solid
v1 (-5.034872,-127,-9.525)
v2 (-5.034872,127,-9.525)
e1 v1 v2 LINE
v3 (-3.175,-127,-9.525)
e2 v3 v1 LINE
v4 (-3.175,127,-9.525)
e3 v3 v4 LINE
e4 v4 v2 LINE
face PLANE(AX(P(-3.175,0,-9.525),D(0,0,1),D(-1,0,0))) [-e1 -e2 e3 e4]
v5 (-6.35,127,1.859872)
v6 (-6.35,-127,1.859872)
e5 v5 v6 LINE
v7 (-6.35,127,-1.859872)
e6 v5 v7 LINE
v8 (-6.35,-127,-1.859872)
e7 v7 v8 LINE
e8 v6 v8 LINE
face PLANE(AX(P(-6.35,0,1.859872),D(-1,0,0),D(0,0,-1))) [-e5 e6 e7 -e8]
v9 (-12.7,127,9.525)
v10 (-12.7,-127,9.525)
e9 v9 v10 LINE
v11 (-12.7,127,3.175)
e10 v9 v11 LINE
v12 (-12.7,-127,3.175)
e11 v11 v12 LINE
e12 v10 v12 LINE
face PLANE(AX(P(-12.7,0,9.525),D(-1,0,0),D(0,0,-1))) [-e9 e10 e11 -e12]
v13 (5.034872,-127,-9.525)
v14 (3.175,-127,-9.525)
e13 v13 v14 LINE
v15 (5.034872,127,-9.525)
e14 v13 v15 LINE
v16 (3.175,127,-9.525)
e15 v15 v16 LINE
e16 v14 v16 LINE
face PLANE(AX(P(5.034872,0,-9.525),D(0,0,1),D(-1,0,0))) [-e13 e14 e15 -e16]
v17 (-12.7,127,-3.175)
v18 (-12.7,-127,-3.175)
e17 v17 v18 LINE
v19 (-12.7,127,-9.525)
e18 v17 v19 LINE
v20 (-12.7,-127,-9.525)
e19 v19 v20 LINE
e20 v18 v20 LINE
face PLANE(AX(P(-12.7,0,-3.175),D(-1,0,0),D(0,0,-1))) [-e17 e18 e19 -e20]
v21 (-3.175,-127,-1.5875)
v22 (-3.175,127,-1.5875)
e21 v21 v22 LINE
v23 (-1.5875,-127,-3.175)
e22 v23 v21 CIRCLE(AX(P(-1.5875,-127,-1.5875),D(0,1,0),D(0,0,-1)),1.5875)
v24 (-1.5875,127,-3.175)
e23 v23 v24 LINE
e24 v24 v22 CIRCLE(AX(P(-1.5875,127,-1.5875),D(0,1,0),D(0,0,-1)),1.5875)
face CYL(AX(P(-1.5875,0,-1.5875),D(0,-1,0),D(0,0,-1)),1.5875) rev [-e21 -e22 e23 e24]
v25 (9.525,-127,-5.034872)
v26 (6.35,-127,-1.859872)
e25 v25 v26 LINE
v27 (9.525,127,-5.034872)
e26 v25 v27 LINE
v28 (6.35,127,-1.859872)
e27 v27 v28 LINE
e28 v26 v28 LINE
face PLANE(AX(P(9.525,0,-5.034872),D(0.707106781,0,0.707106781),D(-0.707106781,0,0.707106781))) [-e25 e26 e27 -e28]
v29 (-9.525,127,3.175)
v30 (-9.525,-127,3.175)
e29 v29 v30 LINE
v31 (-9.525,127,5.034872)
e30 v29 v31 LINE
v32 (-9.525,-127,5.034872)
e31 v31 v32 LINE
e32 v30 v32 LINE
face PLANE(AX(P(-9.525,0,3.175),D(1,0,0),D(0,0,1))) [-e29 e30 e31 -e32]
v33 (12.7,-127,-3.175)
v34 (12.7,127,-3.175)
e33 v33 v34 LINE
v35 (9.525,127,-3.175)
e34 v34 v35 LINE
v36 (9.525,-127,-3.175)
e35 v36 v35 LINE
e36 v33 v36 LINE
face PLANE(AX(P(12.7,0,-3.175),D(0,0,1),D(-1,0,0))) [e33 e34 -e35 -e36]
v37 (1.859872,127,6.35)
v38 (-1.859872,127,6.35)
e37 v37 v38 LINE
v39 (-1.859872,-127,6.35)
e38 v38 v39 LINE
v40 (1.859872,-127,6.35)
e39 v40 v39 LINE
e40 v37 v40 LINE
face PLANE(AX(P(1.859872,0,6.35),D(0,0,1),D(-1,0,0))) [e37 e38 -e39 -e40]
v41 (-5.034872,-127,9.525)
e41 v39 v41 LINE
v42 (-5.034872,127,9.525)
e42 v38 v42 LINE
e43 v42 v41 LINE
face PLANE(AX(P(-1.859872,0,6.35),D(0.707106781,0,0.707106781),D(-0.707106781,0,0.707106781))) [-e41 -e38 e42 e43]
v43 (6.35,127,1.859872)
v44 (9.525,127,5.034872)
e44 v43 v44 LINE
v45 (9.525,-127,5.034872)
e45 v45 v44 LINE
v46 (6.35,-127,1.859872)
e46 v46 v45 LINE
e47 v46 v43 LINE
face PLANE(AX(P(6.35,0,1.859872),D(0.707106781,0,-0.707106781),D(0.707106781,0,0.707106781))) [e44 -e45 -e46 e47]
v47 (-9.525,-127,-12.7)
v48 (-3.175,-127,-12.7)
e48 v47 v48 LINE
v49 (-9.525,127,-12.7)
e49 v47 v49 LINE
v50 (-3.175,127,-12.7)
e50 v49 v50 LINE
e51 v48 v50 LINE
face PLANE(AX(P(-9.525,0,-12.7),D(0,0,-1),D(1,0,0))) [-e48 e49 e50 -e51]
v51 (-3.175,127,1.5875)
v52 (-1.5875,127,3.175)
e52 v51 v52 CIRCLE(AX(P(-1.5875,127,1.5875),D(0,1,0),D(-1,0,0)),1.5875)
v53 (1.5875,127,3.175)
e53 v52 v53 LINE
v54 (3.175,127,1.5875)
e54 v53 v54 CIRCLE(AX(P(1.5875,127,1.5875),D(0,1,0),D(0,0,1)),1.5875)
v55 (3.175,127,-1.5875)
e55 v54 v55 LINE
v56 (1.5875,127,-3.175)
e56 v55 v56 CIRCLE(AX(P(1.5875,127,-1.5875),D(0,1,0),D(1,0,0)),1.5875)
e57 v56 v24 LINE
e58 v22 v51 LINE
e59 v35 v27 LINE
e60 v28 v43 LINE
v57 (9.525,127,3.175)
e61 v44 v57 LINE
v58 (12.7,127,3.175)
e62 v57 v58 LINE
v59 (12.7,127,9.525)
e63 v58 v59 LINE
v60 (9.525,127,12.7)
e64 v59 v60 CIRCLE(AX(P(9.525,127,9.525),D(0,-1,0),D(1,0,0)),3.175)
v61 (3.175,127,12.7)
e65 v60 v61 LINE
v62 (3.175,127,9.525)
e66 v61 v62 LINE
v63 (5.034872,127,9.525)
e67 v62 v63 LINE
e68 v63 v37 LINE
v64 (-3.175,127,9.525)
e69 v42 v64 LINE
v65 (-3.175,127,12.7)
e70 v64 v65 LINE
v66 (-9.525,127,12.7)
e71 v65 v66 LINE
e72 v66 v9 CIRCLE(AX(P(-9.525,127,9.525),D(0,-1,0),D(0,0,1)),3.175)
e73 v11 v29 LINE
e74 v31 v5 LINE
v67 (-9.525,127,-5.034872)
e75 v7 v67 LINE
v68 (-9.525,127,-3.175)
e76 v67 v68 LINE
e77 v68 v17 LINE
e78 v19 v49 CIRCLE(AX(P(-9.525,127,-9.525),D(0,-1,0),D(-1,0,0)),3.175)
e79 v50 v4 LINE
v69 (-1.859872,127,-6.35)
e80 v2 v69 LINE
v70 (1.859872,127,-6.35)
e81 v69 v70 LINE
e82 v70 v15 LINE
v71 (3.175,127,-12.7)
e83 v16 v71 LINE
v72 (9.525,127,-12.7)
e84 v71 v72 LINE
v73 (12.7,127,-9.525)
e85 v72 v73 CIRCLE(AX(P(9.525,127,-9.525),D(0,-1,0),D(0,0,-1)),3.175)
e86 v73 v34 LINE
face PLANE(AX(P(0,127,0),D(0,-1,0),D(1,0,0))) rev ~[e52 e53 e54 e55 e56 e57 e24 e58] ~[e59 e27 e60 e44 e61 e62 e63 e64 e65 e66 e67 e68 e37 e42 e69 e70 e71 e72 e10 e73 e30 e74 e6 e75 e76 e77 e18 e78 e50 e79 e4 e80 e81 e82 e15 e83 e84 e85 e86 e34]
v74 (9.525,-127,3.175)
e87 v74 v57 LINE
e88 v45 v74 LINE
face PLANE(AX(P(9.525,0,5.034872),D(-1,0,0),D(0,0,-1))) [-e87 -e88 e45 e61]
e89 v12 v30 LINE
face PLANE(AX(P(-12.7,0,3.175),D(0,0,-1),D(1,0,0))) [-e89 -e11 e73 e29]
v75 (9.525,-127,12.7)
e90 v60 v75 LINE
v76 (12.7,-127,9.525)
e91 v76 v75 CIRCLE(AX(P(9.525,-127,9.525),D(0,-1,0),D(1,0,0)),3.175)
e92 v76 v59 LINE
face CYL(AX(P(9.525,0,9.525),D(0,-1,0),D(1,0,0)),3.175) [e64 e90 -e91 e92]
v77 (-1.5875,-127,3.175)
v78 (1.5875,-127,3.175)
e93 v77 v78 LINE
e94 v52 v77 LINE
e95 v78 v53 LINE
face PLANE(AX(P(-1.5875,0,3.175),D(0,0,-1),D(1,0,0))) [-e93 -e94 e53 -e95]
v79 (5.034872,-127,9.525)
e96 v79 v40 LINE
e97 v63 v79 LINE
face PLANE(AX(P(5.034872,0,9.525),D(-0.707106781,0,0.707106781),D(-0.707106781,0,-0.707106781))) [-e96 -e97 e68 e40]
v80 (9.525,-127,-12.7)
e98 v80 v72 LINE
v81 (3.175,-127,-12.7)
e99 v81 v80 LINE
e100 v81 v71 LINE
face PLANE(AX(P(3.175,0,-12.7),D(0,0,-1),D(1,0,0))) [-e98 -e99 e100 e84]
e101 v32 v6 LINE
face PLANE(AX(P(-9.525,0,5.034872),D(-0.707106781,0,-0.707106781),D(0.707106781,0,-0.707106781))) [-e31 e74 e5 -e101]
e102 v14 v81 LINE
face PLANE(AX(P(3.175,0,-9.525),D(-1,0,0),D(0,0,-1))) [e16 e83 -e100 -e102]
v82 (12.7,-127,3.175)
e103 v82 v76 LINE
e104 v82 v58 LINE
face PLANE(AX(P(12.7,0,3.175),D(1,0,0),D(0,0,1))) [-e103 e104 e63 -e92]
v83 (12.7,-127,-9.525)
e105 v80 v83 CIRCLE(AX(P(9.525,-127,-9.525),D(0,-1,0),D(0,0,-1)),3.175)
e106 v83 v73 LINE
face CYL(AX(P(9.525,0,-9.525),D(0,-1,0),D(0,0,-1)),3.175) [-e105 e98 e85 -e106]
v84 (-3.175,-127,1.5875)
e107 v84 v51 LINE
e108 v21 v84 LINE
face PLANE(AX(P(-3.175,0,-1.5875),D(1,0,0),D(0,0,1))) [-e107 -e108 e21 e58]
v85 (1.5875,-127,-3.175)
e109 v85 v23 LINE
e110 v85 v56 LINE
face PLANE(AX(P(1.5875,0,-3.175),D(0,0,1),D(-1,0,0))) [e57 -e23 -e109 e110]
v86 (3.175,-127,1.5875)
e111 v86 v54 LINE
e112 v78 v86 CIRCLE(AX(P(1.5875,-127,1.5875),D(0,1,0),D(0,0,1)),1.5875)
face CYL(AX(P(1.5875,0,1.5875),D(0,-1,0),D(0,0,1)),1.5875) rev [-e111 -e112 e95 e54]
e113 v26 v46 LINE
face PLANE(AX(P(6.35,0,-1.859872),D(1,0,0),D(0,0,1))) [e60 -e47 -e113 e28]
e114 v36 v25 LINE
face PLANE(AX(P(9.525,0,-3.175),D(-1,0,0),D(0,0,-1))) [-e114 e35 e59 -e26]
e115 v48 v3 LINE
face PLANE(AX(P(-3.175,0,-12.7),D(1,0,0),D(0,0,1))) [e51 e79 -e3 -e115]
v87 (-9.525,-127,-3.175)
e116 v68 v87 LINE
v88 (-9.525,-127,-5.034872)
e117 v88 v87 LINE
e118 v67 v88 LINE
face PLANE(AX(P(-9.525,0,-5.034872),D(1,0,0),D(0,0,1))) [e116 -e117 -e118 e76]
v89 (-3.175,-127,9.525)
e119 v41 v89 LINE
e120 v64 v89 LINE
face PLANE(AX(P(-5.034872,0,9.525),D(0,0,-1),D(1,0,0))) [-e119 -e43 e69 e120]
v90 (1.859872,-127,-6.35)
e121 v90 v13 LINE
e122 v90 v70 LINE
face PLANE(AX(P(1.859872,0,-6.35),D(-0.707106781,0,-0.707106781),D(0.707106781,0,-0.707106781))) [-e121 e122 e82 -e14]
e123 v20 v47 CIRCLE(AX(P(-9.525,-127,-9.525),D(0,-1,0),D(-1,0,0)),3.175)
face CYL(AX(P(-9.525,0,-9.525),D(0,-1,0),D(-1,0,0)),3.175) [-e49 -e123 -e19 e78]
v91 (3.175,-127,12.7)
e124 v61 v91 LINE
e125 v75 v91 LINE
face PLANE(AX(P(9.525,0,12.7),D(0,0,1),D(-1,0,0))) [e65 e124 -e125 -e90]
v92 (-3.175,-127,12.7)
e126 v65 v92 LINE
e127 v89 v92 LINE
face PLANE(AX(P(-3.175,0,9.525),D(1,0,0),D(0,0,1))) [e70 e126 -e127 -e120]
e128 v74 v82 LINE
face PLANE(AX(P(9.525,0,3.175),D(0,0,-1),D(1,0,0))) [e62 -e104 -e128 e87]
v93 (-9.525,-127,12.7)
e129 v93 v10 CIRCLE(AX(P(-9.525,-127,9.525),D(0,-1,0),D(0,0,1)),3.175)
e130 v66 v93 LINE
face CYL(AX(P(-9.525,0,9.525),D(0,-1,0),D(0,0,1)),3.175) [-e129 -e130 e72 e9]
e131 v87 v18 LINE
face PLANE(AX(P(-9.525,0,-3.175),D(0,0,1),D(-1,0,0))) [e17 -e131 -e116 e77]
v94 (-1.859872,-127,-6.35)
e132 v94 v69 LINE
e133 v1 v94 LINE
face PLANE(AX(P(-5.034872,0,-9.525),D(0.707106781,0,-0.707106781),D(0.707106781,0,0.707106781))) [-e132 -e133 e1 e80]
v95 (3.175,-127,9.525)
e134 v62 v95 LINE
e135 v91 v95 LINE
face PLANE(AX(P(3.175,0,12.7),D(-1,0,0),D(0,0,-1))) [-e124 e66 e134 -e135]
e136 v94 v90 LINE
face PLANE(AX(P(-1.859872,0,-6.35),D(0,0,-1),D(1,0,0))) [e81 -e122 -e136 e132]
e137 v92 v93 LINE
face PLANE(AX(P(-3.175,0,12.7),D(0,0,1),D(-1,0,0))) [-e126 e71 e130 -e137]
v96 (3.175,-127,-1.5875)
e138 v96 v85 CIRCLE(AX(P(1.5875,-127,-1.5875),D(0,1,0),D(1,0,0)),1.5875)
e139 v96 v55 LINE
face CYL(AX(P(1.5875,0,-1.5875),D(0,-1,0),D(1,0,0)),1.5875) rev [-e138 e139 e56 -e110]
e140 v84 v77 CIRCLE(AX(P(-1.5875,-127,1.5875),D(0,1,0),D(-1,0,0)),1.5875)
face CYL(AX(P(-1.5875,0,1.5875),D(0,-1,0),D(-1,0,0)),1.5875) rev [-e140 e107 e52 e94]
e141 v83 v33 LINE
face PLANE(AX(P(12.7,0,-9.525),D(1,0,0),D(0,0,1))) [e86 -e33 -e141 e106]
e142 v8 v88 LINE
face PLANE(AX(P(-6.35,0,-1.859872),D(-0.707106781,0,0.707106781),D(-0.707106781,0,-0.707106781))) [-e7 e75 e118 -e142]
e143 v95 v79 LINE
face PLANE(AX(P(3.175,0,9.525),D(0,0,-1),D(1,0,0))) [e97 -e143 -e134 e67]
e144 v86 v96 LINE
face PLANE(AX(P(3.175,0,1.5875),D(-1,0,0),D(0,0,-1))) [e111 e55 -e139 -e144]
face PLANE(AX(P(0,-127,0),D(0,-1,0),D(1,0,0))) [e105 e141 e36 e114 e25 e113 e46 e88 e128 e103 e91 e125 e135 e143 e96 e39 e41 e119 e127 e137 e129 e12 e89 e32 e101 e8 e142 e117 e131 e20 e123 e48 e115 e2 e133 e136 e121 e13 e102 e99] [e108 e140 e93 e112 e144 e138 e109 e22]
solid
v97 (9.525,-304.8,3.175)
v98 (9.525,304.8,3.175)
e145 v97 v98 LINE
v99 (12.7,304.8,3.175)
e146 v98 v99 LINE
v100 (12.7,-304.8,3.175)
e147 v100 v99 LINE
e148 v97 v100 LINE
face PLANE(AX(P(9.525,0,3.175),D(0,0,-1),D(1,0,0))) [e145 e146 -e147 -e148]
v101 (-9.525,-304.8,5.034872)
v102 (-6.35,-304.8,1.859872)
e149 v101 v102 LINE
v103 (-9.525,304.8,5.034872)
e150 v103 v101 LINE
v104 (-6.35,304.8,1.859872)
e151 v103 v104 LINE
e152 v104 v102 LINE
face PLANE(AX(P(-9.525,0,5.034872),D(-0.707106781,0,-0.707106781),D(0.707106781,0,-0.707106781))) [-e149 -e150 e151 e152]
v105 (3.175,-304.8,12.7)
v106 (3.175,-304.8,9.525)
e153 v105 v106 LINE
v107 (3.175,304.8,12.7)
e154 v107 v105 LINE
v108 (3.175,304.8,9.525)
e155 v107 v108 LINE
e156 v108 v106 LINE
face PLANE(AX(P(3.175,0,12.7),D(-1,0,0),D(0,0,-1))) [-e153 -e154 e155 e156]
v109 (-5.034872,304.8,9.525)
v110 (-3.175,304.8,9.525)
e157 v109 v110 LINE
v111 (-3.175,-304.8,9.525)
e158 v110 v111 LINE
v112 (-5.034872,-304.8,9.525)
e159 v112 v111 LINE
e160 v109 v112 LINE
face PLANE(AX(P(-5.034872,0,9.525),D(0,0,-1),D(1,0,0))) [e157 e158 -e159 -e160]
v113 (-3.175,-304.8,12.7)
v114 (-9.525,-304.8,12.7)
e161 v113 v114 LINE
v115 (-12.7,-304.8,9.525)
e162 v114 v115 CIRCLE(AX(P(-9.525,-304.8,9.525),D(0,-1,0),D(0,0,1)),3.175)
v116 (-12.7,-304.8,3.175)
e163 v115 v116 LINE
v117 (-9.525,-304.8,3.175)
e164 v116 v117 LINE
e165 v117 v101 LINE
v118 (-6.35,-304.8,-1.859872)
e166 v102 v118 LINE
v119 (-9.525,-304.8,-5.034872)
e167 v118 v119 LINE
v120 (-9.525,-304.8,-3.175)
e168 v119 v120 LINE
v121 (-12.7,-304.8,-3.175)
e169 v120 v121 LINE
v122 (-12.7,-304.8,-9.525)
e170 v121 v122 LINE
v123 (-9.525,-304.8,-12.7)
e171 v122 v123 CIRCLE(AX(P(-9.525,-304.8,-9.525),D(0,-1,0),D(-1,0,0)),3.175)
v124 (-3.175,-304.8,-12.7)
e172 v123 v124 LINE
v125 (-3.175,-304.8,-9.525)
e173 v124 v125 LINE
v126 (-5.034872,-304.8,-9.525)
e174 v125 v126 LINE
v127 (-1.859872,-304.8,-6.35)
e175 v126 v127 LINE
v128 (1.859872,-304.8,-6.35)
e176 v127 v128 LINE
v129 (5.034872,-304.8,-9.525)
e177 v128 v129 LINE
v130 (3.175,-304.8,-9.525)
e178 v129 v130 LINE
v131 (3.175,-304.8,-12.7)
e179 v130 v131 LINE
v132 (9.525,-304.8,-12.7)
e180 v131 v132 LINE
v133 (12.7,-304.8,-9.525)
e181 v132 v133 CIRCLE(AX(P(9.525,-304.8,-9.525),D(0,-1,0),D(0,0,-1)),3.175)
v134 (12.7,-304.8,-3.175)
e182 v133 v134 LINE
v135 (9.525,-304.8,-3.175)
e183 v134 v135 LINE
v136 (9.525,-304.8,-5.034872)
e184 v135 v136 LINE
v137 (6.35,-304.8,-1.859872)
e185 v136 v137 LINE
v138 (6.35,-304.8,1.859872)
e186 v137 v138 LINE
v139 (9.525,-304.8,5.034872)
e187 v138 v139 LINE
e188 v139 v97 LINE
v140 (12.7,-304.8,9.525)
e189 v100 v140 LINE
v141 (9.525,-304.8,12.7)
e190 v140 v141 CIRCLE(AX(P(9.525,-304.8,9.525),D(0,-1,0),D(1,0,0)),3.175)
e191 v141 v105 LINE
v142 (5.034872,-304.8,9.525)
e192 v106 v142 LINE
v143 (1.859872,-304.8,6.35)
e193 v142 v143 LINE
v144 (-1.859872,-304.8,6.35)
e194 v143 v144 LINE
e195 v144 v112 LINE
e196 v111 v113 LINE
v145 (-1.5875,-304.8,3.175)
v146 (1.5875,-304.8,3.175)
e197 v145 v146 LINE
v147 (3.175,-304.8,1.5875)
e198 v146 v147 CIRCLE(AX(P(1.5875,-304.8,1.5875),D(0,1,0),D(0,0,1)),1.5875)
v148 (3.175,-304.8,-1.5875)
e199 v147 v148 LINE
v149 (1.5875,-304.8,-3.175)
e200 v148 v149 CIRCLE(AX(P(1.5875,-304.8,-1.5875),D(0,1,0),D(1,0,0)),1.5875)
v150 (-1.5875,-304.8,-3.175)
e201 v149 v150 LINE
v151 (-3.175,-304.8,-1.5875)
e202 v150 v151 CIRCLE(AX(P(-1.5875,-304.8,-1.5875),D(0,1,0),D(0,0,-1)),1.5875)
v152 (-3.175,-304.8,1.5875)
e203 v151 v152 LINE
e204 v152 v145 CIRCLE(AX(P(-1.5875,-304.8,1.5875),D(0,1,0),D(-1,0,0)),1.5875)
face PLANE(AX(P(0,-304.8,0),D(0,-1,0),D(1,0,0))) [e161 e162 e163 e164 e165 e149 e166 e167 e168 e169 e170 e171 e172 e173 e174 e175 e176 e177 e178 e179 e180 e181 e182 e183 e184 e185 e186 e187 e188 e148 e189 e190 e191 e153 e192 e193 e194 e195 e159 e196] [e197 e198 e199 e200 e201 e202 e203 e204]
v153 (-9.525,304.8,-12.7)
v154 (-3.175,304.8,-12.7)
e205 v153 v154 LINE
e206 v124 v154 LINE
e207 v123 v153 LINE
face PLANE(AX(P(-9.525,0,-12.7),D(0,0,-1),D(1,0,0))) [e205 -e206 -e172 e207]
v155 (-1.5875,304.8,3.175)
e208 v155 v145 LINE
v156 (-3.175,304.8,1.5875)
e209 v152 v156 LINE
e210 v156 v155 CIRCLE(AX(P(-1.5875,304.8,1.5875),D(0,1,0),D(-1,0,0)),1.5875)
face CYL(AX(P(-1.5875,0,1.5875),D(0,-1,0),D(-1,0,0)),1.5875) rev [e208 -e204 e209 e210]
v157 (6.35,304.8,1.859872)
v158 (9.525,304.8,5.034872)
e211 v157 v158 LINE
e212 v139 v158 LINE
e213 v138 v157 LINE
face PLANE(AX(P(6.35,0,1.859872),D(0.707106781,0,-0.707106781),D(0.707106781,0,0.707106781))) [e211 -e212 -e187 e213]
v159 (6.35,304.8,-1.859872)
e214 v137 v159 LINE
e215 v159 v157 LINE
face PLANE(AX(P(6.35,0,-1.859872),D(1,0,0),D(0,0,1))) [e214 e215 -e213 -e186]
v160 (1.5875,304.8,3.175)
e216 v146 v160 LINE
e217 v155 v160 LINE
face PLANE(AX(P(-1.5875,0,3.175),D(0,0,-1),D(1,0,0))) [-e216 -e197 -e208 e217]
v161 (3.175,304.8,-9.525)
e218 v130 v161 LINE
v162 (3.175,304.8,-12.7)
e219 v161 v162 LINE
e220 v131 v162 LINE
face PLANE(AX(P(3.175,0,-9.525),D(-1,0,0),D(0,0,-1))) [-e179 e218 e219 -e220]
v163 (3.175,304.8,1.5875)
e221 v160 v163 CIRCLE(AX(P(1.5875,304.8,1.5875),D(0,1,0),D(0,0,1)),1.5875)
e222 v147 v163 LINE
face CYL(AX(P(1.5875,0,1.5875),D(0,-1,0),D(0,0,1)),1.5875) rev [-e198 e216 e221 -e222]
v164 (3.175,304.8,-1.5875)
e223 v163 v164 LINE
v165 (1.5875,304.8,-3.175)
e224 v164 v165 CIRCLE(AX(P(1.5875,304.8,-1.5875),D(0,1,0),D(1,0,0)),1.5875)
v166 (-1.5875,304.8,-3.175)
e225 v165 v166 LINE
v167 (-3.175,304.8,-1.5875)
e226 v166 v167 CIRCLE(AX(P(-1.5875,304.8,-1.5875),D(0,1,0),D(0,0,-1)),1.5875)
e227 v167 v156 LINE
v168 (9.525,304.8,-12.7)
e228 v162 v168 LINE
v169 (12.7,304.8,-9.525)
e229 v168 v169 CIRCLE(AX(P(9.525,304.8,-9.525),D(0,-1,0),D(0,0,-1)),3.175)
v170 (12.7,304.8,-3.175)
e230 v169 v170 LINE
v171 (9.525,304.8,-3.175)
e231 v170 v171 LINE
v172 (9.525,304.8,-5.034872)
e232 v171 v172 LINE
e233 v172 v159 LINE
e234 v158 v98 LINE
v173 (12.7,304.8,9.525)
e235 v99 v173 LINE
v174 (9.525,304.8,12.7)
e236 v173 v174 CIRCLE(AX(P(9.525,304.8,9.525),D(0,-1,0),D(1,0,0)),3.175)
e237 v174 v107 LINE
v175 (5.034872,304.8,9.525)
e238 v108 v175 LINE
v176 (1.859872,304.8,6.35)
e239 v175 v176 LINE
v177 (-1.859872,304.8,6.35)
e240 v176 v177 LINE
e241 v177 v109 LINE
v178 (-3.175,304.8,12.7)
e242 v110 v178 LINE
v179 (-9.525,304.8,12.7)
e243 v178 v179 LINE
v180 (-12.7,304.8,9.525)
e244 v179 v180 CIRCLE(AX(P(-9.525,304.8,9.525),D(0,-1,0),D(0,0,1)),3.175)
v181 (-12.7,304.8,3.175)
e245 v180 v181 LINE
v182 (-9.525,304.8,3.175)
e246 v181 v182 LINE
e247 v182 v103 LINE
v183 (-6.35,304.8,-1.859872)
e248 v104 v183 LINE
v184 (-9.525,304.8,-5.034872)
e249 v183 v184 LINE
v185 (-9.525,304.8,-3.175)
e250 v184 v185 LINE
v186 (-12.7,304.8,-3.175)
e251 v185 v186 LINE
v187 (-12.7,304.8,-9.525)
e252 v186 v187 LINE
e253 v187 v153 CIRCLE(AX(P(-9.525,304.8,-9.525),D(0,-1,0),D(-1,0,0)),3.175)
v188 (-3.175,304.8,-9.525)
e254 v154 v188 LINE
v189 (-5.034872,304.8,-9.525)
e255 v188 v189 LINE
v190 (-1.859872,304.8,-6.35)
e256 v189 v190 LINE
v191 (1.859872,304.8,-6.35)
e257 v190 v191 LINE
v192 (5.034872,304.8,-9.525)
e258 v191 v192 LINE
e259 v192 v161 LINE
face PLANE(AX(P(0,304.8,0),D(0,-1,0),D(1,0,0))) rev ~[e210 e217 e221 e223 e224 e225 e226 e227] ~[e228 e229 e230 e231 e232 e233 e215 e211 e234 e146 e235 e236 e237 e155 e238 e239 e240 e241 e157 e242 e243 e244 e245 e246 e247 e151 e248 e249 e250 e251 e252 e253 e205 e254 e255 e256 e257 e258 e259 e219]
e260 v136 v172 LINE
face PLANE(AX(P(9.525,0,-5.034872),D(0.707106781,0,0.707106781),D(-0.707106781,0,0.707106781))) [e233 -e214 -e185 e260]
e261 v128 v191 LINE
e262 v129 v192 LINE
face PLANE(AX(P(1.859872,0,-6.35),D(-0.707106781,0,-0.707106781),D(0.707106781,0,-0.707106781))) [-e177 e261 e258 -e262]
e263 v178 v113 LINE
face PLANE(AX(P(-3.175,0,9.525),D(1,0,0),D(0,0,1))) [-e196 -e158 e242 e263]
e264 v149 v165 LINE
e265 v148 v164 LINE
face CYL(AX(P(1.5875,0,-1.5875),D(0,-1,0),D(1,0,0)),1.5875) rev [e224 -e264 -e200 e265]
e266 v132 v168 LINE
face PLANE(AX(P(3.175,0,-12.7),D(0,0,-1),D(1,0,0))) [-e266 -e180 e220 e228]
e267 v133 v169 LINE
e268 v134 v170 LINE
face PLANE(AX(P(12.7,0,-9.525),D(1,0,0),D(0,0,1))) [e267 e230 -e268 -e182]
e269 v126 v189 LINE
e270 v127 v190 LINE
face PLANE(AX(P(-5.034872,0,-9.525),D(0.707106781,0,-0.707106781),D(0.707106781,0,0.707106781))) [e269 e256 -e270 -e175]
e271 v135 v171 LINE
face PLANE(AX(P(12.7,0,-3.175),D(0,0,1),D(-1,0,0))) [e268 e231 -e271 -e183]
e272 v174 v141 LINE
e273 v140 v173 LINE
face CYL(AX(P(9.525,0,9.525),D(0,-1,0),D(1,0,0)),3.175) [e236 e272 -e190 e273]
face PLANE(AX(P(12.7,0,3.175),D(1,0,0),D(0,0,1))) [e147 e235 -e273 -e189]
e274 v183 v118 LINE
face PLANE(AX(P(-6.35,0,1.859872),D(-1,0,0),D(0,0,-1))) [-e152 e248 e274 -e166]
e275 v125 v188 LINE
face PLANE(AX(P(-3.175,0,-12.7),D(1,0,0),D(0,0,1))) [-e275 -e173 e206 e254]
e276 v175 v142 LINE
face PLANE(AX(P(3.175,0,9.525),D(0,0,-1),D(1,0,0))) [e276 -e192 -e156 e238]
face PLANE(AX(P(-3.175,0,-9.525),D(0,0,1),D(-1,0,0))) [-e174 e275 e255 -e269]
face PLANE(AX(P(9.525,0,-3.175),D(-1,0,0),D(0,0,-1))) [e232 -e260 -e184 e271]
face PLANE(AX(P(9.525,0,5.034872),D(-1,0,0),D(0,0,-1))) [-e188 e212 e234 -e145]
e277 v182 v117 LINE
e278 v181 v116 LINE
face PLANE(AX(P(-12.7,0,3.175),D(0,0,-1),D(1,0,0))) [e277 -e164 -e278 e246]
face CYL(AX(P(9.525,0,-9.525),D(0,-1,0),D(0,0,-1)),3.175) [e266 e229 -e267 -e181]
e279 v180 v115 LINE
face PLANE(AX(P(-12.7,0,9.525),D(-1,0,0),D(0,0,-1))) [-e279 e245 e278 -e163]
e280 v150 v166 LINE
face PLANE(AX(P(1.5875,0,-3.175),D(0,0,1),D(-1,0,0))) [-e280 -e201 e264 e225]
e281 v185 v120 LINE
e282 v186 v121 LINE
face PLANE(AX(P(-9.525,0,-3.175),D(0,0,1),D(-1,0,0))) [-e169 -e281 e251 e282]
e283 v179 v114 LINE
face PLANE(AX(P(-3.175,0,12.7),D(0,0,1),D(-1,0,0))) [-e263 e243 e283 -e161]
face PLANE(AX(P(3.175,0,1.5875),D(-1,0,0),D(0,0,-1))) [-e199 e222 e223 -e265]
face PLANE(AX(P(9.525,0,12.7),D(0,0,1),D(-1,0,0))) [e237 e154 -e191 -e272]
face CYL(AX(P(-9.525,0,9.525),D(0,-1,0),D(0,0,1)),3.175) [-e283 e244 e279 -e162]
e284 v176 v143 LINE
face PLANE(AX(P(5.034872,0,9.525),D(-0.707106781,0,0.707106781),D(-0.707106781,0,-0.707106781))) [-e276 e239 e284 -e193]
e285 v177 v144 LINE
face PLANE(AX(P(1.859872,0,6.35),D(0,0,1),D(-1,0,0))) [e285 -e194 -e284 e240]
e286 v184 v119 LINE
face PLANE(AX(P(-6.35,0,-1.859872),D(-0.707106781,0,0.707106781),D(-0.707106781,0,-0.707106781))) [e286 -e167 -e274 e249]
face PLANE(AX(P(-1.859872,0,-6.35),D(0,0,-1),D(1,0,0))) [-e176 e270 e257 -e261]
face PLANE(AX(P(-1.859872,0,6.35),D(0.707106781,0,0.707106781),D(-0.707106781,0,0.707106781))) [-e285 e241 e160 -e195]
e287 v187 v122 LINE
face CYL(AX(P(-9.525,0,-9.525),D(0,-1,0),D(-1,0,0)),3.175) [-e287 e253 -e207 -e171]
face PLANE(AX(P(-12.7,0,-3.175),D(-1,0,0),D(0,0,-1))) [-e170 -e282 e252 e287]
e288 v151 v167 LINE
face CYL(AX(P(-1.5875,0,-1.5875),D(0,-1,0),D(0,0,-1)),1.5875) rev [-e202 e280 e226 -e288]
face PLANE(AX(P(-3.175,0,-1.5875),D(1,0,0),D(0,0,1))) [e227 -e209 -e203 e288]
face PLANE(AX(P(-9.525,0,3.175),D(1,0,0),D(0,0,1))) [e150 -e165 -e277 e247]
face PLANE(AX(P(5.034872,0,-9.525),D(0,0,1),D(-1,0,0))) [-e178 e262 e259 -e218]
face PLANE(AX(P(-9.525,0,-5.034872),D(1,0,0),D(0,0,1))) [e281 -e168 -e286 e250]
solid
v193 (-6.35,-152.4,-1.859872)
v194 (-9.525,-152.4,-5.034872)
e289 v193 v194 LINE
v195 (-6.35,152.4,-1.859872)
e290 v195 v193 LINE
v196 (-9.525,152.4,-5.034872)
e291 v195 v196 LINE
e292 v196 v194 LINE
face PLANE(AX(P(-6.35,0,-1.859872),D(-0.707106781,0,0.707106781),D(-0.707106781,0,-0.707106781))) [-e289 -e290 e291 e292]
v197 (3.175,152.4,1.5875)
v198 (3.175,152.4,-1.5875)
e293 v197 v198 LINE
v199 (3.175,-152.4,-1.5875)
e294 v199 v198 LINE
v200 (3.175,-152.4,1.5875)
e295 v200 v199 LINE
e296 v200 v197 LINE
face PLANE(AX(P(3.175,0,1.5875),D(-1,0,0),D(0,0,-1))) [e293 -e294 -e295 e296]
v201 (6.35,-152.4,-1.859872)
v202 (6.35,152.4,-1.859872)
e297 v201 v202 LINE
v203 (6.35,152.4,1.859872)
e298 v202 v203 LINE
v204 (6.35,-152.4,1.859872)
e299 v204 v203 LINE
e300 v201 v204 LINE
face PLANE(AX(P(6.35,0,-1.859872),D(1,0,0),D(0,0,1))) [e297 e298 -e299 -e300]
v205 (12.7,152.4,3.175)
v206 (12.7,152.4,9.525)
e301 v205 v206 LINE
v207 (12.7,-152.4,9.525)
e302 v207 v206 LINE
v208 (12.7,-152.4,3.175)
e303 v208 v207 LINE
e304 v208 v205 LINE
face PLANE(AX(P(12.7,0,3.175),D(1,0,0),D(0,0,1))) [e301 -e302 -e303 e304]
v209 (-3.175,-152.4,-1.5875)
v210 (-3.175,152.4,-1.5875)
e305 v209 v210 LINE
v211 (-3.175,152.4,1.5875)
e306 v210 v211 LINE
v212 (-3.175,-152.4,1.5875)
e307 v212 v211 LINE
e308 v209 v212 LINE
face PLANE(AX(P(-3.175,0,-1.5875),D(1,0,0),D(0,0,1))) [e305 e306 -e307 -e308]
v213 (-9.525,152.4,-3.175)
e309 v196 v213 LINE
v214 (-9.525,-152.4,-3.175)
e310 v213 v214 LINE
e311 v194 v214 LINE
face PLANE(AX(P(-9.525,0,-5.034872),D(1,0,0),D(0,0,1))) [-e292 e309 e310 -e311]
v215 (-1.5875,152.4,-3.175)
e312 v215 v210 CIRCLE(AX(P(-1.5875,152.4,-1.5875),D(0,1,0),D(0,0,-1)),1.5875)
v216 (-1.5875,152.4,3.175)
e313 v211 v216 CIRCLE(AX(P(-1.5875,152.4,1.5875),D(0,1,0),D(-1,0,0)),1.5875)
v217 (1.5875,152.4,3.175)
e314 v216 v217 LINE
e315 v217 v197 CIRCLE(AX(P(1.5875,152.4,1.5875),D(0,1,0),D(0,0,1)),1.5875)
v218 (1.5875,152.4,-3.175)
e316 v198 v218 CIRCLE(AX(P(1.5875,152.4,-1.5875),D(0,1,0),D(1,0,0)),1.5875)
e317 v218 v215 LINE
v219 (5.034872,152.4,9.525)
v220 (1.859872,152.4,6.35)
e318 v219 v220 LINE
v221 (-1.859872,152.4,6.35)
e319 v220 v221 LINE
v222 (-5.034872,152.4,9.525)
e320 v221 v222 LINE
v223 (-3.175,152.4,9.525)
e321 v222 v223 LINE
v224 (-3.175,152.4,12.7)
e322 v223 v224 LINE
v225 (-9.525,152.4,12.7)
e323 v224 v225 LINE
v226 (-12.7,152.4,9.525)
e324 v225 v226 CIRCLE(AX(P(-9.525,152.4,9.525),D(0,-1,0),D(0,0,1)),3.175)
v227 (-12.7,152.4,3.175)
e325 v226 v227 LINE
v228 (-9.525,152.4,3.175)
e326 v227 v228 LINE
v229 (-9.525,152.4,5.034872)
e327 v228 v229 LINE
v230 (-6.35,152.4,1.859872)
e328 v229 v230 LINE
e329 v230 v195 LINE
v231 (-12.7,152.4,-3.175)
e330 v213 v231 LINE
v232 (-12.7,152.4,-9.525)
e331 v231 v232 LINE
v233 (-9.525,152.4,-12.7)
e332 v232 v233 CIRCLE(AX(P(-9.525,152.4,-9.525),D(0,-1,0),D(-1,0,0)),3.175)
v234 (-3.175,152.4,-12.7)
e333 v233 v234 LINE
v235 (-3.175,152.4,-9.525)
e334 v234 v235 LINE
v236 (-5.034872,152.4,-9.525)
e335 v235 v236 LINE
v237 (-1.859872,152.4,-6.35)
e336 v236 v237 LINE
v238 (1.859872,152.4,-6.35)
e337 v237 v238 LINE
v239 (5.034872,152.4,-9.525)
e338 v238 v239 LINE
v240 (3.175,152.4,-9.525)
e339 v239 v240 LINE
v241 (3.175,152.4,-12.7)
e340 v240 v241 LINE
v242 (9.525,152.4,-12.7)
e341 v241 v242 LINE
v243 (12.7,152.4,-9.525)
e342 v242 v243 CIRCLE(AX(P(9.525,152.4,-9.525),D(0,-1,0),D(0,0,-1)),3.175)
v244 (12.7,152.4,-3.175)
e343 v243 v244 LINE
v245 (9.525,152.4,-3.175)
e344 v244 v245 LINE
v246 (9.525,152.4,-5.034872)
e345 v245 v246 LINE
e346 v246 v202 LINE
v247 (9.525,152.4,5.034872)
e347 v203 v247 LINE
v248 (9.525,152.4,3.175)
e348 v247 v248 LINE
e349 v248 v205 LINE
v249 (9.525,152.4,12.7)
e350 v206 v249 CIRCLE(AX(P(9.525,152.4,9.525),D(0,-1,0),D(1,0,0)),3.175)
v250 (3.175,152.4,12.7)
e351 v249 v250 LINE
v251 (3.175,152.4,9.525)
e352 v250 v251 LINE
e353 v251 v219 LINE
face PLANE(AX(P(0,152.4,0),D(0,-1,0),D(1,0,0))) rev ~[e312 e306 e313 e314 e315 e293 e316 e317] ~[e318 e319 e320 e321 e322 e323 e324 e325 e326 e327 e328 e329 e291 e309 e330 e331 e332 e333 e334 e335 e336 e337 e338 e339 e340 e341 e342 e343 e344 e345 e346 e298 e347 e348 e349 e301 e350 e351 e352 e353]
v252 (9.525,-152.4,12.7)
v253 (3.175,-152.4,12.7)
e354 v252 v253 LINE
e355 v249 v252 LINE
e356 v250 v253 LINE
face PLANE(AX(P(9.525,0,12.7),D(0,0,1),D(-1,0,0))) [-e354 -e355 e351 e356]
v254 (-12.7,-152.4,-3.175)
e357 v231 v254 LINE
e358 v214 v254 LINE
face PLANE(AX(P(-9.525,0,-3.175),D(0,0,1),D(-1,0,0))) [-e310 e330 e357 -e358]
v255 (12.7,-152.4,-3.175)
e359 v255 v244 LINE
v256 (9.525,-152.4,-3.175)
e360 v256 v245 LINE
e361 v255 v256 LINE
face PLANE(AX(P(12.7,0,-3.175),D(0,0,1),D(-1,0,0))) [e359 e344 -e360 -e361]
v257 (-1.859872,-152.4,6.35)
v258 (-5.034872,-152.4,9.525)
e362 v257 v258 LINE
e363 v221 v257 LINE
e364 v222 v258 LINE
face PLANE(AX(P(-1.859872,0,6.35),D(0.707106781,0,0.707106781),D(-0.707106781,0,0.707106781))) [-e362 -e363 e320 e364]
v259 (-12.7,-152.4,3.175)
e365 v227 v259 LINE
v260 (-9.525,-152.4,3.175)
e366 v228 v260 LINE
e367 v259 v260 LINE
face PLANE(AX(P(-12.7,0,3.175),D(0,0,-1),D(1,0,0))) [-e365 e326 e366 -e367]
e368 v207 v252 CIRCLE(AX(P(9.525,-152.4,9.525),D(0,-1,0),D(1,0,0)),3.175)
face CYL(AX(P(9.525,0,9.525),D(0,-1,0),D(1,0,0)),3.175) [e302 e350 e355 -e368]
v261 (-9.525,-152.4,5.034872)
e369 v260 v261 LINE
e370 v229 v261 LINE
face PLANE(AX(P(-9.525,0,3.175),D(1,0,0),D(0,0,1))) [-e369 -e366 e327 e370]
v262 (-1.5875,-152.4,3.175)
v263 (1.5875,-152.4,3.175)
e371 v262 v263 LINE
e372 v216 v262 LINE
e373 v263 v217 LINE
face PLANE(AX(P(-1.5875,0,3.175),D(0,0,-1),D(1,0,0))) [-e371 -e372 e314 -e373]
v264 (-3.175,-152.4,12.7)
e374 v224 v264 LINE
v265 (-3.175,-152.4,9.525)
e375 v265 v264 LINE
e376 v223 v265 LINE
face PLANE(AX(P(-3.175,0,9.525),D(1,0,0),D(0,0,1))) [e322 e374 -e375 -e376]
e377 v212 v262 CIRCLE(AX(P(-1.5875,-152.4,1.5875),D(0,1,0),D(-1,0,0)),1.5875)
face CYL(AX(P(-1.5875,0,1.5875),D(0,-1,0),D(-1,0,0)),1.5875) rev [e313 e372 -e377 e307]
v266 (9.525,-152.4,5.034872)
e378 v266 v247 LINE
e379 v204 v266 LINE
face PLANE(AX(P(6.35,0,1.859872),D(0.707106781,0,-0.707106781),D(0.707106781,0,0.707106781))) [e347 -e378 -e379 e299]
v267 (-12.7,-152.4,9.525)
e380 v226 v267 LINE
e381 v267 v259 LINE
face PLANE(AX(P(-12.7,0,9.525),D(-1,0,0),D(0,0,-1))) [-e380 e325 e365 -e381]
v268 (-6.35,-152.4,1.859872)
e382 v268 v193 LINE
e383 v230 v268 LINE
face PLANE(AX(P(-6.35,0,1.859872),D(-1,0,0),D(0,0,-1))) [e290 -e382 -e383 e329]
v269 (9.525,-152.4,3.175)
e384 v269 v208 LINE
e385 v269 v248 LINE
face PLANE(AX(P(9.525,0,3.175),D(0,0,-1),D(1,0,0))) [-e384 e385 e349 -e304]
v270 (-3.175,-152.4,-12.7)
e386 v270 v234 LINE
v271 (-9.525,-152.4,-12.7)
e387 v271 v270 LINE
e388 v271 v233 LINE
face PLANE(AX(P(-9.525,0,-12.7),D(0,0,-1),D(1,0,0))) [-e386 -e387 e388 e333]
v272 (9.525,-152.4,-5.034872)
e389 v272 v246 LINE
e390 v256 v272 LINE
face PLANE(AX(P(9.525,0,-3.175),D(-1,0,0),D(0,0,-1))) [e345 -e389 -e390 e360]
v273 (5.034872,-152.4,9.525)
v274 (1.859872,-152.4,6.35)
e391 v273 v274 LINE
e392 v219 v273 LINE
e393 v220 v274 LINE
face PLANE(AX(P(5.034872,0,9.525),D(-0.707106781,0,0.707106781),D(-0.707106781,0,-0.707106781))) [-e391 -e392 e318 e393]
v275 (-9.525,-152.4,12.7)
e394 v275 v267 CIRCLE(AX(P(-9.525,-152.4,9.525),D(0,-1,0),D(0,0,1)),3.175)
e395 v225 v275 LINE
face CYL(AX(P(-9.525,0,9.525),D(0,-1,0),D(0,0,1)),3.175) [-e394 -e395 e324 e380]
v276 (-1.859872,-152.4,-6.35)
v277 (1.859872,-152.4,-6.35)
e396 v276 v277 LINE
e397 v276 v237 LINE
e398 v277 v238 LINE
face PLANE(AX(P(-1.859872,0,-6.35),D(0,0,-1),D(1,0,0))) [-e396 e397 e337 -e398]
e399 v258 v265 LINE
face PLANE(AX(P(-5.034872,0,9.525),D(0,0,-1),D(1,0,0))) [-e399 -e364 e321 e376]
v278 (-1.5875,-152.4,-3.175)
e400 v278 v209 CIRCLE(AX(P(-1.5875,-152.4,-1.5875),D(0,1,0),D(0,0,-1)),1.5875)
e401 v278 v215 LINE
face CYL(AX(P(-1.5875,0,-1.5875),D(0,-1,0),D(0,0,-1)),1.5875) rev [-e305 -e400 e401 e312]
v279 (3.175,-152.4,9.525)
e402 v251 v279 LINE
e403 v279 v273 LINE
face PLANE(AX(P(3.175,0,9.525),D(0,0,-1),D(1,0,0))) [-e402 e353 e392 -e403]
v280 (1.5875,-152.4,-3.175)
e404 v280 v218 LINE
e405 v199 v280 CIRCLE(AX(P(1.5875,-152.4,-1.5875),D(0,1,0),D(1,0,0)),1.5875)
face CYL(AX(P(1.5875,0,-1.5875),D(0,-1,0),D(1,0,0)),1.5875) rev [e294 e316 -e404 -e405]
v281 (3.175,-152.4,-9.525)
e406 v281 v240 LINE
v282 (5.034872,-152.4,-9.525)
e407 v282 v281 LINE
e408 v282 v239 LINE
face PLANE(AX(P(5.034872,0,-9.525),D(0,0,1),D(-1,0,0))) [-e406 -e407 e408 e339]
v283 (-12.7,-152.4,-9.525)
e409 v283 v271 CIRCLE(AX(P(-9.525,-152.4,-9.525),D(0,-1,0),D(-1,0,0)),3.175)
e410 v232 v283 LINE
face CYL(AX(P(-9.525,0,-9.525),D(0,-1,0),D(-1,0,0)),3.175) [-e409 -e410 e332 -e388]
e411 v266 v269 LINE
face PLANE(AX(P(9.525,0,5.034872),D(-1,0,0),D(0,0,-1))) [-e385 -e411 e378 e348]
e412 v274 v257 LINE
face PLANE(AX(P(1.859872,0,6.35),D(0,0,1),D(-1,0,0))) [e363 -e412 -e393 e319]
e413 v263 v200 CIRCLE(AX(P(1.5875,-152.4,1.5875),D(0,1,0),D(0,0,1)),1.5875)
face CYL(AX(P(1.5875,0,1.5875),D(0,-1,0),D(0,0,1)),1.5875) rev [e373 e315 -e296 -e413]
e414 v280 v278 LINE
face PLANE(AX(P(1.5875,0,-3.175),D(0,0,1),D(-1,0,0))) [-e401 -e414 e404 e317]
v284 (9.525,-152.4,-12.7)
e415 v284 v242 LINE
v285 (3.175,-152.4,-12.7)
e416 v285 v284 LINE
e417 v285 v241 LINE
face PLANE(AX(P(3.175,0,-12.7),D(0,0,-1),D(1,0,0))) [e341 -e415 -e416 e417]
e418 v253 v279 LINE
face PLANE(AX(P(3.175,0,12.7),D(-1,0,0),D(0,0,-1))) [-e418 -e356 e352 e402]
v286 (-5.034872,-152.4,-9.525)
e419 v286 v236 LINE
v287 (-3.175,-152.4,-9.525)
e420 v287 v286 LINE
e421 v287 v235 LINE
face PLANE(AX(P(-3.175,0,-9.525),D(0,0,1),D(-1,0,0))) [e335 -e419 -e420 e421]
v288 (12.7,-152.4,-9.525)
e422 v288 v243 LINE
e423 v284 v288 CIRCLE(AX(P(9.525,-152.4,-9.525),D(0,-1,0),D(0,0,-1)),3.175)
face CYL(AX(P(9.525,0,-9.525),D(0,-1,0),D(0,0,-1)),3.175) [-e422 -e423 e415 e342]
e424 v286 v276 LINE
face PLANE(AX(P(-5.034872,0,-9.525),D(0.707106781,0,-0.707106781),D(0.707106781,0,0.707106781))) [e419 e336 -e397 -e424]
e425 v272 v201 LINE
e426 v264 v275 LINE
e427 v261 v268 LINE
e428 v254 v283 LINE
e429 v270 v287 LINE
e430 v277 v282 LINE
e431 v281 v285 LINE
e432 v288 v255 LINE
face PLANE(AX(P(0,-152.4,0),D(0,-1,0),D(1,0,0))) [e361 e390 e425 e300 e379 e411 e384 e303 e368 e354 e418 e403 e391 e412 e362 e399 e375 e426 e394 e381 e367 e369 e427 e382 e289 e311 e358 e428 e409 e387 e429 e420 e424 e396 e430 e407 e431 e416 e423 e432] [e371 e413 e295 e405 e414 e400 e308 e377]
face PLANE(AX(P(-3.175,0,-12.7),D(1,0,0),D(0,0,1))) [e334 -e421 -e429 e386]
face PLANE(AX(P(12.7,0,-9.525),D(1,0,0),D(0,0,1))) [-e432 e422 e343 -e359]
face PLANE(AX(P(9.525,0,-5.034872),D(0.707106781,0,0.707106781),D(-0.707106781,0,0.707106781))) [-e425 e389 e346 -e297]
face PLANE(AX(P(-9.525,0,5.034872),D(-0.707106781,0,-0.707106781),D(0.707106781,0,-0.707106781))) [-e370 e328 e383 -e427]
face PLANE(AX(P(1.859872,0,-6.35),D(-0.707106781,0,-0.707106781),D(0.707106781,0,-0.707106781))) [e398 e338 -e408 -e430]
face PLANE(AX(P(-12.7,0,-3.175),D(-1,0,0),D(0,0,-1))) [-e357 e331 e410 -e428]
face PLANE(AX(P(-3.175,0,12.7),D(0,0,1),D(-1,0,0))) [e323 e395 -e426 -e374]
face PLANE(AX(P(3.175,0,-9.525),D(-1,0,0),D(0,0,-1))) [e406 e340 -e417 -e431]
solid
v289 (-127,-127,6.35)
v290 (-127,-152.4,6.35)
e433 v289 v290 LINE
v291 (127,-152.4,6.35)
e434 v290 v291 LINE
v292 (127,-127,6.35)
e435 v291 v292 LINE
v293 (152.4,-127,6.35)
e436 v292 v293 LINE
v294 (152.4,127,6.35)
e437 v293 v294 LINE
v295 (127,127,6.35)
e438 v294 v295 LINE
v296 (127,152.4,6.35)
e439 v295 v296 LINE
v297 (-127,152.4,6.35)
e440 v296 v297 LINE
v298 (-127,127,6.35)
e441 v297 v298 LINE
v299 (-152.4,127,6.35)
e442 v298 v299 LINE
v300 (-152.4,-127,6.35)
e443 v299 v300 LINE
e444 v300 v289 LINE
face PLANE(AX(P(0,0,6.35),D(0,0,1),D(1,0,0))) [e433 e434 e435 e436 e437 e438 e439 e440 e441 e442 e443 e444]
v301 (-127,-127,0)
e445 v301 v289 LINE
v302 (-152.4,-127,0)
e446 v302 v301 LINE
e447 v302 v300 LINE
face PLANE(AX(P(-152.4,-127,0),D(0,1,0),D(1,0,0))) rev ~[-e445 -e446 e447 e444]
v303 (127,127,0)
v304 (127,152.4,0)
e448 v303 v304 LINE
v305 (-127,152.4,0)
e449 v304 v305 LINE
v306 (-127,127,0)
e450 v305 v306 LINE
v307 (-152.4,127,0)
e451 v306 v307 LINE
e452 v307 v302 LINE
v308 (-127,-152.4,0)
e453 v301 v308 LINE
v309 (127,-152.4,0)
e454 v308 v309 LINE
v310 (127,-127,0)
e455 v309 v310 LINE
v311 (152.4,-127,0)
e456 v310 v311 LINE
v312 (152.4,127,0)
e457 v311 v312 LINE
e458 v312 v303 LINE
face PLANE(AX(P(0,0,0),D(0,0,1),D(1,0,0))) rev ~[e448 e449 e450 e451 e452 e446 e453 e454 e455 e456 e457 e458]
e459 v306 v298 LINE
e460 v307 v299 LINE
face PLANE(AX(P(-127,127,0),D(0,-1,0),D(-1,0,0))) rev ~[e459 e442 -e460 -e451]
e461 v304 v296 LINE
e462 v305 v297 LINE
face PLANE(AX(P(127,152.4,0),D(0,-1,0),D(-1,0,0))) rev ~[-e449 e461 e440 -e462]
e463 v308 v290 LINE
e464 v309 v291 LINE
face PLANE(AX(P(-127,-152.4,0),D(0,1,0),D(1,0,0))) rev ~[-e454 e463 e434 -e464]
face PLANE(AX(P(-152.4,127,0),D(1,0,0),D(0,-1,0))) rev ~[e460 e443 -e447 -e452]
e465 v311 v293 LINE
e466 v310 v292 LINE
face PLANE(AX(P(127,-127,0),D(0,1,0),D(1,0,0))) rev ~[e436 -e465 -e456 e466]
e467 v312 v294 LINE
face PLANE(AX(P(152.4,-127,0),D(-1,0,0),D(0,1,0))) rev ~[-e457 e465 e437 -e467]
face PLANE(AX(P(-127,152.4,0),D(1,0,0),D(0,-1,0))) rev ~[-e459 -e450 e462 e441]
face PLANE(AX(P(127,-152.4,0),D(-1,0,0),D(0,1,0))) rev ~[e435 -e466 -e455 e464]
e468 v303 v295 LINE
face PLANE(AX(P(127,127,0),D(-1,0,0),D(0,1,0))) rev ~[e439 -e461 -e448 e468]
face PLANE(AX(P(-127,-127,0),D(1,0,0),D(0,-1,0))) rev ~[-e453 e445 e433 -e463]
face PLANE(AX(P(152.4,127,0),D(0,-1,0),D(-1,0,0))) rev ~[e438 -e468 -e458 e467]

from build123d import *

# Parameters (mm, degrees)
F2_DEPTH = 127
F4_DEPTH = 304.8
F6_DEPTH = 152.4
F8_DEPTH = 6.35


with BuildPart() as f2:
    # F0 (on Front) → F2 (new body, symmetric)
    with BuildSketch(Plane.XZ):
        with BuildLine():
            ThreePointArc((12.7, 9.525), (11.7700640303, 11.7700640303), (9.525, 12.7))
            Line((9.525, 12.7), (3.175, 12.7))
            Line((3.175, 12.7), (3.175, 9.525))
            Line((3.175, 9.525), (5.0348719395, 9.525))
            Line((5.0348719395, 9.525), (1.8598719395, 6.35))
            Line((1.8598719395, 6.35), (0, 6.35))
            Line((0, 6.35), (-1.8598719395, 6.35))
            Line((-1.8598719395, 6.35), (-5.0348719395, 9.525))
            Line((-5.0348719395, 9.525), (-3.175, 9.525))
            Line((-3.175, 9.525), (-3.175, 12.7))
            Line((-3.175, 12.7), (-9.525, 12.7))
            ThreePointArc((-9.525, 12.7), (-11.7700640303, 11.7700640303), (-12.7, 9.525))
            Line((-12.7, 9.525), (-12.7, 3.175))
            Line((-12.7, 3.175), (-9.525, 3.175))
            Line((-9.525, 3.175), (-9.525, 5.0348719395))
            Line((-9.525, 5.0348719395), (-6.35, 1.8598719395))
            Line((-6.35, 1.8598719395), (-6.35, 0))
            Line((-6.35, 0), (-6.35, -1.8598719395))
            Line((-6.35, -1.8598719395), (-9.525, -5.0348719395))
            Line((-9.525, -5.0348719395), (-9.525, -3.175))
            Line((-9.525, -3.175), (-12.7, -3.175))
            Line((-12.7, -3.175), (-12.7, -9.525))
            ThreePointArc((-12.7, -9.525), (-11.7700640303, -11.7700640303), (-9.525, -12.7))
            Line((-9.525, -12.7), (-3.175, -12.7))
            Line((-3.175, -12.7), (-3.175, -9.525))
            Line((-3.175, -9.525), (-5.0348719395, -9.525))
            Line((-5.0348719395, -9.525), (-1.8598719395, -6.35))
            Line((-1.8598719395, -6.35), (0, -6.35))
            Line((0, -6.35), (1.8598719395, -6.35))
            Line((1.8598719395, -6.35), (5.0348719395, -9.525))
            Line((5.0348719395, -9.525), (3.175, -9.525))
            Line((3.175, -9.525), (3.175, -12.7))
            Line((3.175, -12.7), (9.525, -12.7))
            ThreePointArc((9.525, -12.7), (11.7700640303, -11.7700640303), (12.7, -9.525))
            Line((12.7, -9.525), (12.7, -3.175))
            Line((12.7, -3.175), (9.525, -3.175))
            Line((9.525, -3.175), (9.525, -5.0348719395))
            Line((9.525, -5.0348719395), (6.35, -1.8598719395))
            Line((6.35, -1.8598719395), (6.35, 0))
            Line((6.35, 0), (6.35, 1.8598719395))
            Line((6.35, 1.8598719395), (9.525, 5.0348719395))
            Line((9.525, 5.0348719395), (9.525, 3.175))
            Line((9.525, 3.175), (12.7, 3.175))
            Line((12.7, 3.175), (12.7, 9.525))
        make_face()
        with BuildLine():
            Line((-1.5875, 3.175), (0, 3.175))
            Line((0, 3.175), (1.5875, 3.175))
            ThreePointArc((1.5875, 3.175), (2.7100320151, 2.7100320151), (3.175, 1.5875))
            Line((3.175, 1.5875), (3.175, 0))
            Line((3.175, 0), (3.175, -1.5875))
            ThreePointArc((3.175, -1.5875), (2.7100320151, -2.7100320151), (1.5875, -3.175))
            Line((1.5875, -3.175), (0, -3.175))
            Line((0, -3.175), (-1.5875, -3.175))
            ThreePointArc((-1.5875, -3.175), (-2.7100320151, -2.7100320151), (-3.175, -1.5875))
            Line((-3.175, -1.5875), (-3.175, 0))
            Line((-3.175, 0), (-3.175, 1.5875))
            ThreePointArc((-3.175, 1.5875), (-2.7100320151, 2.7100320151), (-1.5875, 3.175))
        make_face(mode=Mode.SUBTRACT)
    extrude(amount=F2_DEPTH, both=True)


with BuildPart() as f4:
    # F0 (on Front) → F4 (new body, symmetric)
    with BuildSketch(Plane.XZ):
        with BuildLine():
            ThreePointArc((12.7, 9.525), (11.7700640303, 11.7700640303), (9.525, 12.7))
            Line((9.525, 12.7), (3.175, 12.7))
            Line((3.175, 12.7), (3.175, 9.525))
            Line((3.175, 9.525), (5.0348719395, 9.525))
            Line((5.0348719395, 9.525), (1.8598719395, 6.35))
            Line((1.8598719395, 6.35), (0, 6.35))
            Line((0, 6.35), (-1.8598719395, 6.35))
            Line((-1.8598719395, 6.35), (-5.0348719395, 9.525))
            Line((-5.0348719395, 9.525), (-3.175, 9.525))
            Line((-3.175, 9.525), (-3.175, 12.7))
            Line((-3.175, 12.7), (-9.525, 12.7))
            ThreePointArc((-9.525, 12.7), (-11.7700640303, 11.7700640303), (-12.7, 9.525))
            Line((-12.7, 9.525), (-12.7, 3.175))
            Line((-12.7, 3.175), (-9.525, 3.175))
            Line((-9.525, 3.175), (-9.525, 5.0348719395))
            Line((-9.525, 5.0348719395), (-6.35, 1.8598719395))
            Line((-6.35, 1.8598719395), (-6.35, 0))
            Line((-6.35, 0), (-6.35, -1.8598719395))
            Line((-6.35, -1.8598719395), (-9.525, -5.0348719395))
            Line((-9.525, -5.0348719395), (-9.525, -3.175))
            Line((-9.525, -3.175), (-12.7, -3.175))
            Line((-12.7, -3.175), (-12.7, -9.525))
            ThreePointArc((-12.7, -9.525), (-11.7700640303, -11.7700640303), (-9.525, -12.7))
            Line((-9.525, -12.7), (-3.175, -12.7))
            Line((-3.175, -12.7), (-3.175, -9.525))
            Line((-3.175, -9.525), (-5.0348719395, -9.525))
            Line((-5.0348719395, -9.525), (-1.8598719395, -6.35))
            Line((-1.8598719395, -6.35), (0, -6.35))
            Line((0, -6.35), (1.8598719395, -6.35))
            Line((1.8598719395, -6.35), (5.0348719395, -9.525))
            Line((5.0348719395, -9.525), (3.175, -9.525))
            Line((3.175, -9.525), (3.175, -12.7))
            Line((3.175, -12.7), (9.525, -12.7))
            ThreePointArc((9.525, -12.7), (11.7700640303, -11.7700640303), (12.7, -9.525))
            Line((12.7, -9.525), (12.7, -3.175))
            Line((12.7, -3.175), (9.525, -3.175))
            Line((9.525, -3.175), (9.525, -5.0348719395))
            Line((9.525, -5.0348719395), (6.35, -1.8598719395))
            Line((6.35, -1.8598719395), (6.35, 0))
            Line((6.35, 0), (6.35, 1.8598719395))
            Line((6.35, 1.8598719395), (9.525, 5.0348719395))
            Line((9.525, 5.0348719395), (9.525, 3.175))
            Line((9.525, 3.175), (12.7, 3.175))
            Line((12.7, 3.175), (12.7, 9.525))
        make_face()
        with BuildLine():
            Line((-1.5875, 3.175), (0, 3.175))
            Line((0, 3.175), (1.5875, 3.175))
            ThreePointArc((1.5875, 3.175), (2.7100320151, 2.7100320151), (3.175, 1.5875))
            Line((3.175, 1.5875), (3.175, 0))
            Line((3.175, 0), (3.175, -1.5875))
            ThreePointArc((3.175, -1.5875), (2.7100320151, -2.7100320151), (1.5875, -3.175))
            Line((1.5875, -3.175), (0, -3.175))
            Line((0, -3.175), (-1.5875, -3.175))
            ThreePointArc((-1.5875, -3.175), (-2.7100320151, -2.7100320151), (-3.175, -1.5875))
            Line((-3.175, -1.5875), (-3.175, 0))
            Line((-3.175, 0), (-3.175, 1.5875))
            ThreePointArc((-3.175, 1.5875), (-2.7100320151, 2.7100320151), (-1.5875, 3.175))
        make_face(mode=Mode.SUBTRACT)
    extrude(amount=F4_DEPTH, both=True)


with BuildPart() as f6:
    # F0 (on Front) → F6 (new body, symmetric)
    with BuildSketch(Plane.XZ):
        with BuildLine():
            ThreePointArc((12.7, 9.525), (11.7700640303, 11.7700640303), (9.525, 12.7))
            Line((9.525, 12.7), (3.175, 12.7))
            Line((3.175, 12.7), (3.175, 9.525))
            Line((3.175, 9.525), (5.0348719395, 9.525))
            Line((5.0348719395, 9.525), (1.8598719395, 6.35))
            Line((1.8598719395, 6.35), (0, 6.35))
            Line((0, 6.35), (-1.8598719395, 6.35))
            Line((-1.8598719395, 6.35), (-5.0348719395, 9.525))
            Line((-5.0348719395, 9.525), (-3.175, 9.525))
            Line((-3.175, 9.525), (-3.175, 12.7))
            Line((-3.175, 12.7), (-9.525, 12.7))
            ThreePointArc((-9.525, 12.7), (-11.7700640303, 11.7700640303), (-12.7, 9.525))
            Line((-12.7, 9.525), (-12.7, 3.175))
            Line((-12.7, 3.175), (-9.525, 3.175))
            Line((-9.525, 3.175), (-9.525, 5.0348719395))
            Line((-9.525, 5.0348719395), (-6.35, 1.8598719395))
            Line((-6.35, 1.8598719395), (-6.35, 0))
            Line((-6.35, 0), (-6.35, -1.8598719395))
            Line((-6.35, -1.8598719395), (-9.525, -5.0348719395))
            Line((-9.525, -5.0348719395), (-9.525, -3.175))
            Line((-9.525, -3.175), (-12.7, -3.175))
            Line((-12.7, -3.175), (-12.7, -9.525))
            ThreePointArc((-12.7, -9.525), (-11.7700640303, -11.7700640303), (-9.525, -12.7))
            Line((-9.525, -12.7), (-3.175, -12.7))
            Line((-3.175, -12.7), (-3.175, -9.525))
            Line((-3.175, -9.525), (-5.0348719395, -9.525))
            Line((-5.0348719395, -9.525), (-1.8598719395, -6.35))
            Line((-1.8598719395, -6.35), (0, -6.35))
            Line((0, -6.35), (1.8598719395, -6.35))
            Line((1.8598719395, -6.35), (5.0348719395, -9.525))
            Line((5.0348719395, -9.525), (3.175, -9.525))
            Line((3.175, -9.525), (3.175, -12.7))
            Line((3.175, -12.7), (9.525, -12.7))
            ThreePointArc((9.525, -12.7), (11.7700640303, -11.7700640303), (12.7, -9.525))
            Line((12.7, -9.525), (12.7, -3.175))
            Line((12.7, -3.175), (9.525, -3.175))
            Line((9.525, -3.175), (9.525, -5.0348719395))
            Line((9.525, -5.0348719395), (6.35, -1.8598719395))
            Line((6.35, -1.8598719395), (6.35, 0))
            Line((6.35, 0), (6.35, 1.8598719395))
            Line((6.35, 1.8598719395), (9.525, 5.0348719395))
            Line((9.525, 5.0348719395), (9.525, 3.175))
            Line((9.525, 3.175), (12.7, 3.175))
            Line((12.7, 3.175), (12.7, 9.525))
        make_face()
        with BuildLine():
            Line((-1.5875, 3.175), (0, 3.175))
            Line((0, 3.175), (1.5875, 3.175))
            ThreePointArc((1.5875, 3.175), (2.7100320151, 2.7100320151), (3.175, 1.5875))
            Line((3.175, 1.5875), (3.175, 0))
            Line((3.175, 0), (3.175, -1.5875))
            ThreePointArc((3.175, -1.5875), (2.7100320151, -2.7100320151), (1.5875, -3.175))
            Line((1.5875, -3.175), (0, -3.175))
            Line((0, -3.175), (-1.5875, -3.175))
            ThreePointArc((-1.5875, -3.175), (-2.7100320151, -2.7100320151), (-3.175, -1.5875))
            Line((-3.175, -1.5875), (-3.175, 0))
            Line((-3.175, 0), (-3.175, 1.5875))
            ThreePointArc((-3.175, 1.5875), (-2.7100320151, 2.7100320151), (-1.5875, 3.175))
        make_face(mode=Mode.SUBTRACT)
    extrude(amount=F6_DEPTH, both=True)


with BuildPart() as f8:
    # F7 (on Top) → F8 (new body)
    with BuildSketch(Plane.XY):
        Polygon((127, 127), (127, 152.4), (-127, 152.4), (-127, 127), (-152.4, 127), (-152.4, -127), (-127, -127), (-127, -152.4), (127, -152.4), (127, -127), (152.4, -127), (152.4, 127), align=None)
    extrude(amount=F8_DEPTH)


solid = Compound([f2.part, f4.part, f6.part, f8.part])
